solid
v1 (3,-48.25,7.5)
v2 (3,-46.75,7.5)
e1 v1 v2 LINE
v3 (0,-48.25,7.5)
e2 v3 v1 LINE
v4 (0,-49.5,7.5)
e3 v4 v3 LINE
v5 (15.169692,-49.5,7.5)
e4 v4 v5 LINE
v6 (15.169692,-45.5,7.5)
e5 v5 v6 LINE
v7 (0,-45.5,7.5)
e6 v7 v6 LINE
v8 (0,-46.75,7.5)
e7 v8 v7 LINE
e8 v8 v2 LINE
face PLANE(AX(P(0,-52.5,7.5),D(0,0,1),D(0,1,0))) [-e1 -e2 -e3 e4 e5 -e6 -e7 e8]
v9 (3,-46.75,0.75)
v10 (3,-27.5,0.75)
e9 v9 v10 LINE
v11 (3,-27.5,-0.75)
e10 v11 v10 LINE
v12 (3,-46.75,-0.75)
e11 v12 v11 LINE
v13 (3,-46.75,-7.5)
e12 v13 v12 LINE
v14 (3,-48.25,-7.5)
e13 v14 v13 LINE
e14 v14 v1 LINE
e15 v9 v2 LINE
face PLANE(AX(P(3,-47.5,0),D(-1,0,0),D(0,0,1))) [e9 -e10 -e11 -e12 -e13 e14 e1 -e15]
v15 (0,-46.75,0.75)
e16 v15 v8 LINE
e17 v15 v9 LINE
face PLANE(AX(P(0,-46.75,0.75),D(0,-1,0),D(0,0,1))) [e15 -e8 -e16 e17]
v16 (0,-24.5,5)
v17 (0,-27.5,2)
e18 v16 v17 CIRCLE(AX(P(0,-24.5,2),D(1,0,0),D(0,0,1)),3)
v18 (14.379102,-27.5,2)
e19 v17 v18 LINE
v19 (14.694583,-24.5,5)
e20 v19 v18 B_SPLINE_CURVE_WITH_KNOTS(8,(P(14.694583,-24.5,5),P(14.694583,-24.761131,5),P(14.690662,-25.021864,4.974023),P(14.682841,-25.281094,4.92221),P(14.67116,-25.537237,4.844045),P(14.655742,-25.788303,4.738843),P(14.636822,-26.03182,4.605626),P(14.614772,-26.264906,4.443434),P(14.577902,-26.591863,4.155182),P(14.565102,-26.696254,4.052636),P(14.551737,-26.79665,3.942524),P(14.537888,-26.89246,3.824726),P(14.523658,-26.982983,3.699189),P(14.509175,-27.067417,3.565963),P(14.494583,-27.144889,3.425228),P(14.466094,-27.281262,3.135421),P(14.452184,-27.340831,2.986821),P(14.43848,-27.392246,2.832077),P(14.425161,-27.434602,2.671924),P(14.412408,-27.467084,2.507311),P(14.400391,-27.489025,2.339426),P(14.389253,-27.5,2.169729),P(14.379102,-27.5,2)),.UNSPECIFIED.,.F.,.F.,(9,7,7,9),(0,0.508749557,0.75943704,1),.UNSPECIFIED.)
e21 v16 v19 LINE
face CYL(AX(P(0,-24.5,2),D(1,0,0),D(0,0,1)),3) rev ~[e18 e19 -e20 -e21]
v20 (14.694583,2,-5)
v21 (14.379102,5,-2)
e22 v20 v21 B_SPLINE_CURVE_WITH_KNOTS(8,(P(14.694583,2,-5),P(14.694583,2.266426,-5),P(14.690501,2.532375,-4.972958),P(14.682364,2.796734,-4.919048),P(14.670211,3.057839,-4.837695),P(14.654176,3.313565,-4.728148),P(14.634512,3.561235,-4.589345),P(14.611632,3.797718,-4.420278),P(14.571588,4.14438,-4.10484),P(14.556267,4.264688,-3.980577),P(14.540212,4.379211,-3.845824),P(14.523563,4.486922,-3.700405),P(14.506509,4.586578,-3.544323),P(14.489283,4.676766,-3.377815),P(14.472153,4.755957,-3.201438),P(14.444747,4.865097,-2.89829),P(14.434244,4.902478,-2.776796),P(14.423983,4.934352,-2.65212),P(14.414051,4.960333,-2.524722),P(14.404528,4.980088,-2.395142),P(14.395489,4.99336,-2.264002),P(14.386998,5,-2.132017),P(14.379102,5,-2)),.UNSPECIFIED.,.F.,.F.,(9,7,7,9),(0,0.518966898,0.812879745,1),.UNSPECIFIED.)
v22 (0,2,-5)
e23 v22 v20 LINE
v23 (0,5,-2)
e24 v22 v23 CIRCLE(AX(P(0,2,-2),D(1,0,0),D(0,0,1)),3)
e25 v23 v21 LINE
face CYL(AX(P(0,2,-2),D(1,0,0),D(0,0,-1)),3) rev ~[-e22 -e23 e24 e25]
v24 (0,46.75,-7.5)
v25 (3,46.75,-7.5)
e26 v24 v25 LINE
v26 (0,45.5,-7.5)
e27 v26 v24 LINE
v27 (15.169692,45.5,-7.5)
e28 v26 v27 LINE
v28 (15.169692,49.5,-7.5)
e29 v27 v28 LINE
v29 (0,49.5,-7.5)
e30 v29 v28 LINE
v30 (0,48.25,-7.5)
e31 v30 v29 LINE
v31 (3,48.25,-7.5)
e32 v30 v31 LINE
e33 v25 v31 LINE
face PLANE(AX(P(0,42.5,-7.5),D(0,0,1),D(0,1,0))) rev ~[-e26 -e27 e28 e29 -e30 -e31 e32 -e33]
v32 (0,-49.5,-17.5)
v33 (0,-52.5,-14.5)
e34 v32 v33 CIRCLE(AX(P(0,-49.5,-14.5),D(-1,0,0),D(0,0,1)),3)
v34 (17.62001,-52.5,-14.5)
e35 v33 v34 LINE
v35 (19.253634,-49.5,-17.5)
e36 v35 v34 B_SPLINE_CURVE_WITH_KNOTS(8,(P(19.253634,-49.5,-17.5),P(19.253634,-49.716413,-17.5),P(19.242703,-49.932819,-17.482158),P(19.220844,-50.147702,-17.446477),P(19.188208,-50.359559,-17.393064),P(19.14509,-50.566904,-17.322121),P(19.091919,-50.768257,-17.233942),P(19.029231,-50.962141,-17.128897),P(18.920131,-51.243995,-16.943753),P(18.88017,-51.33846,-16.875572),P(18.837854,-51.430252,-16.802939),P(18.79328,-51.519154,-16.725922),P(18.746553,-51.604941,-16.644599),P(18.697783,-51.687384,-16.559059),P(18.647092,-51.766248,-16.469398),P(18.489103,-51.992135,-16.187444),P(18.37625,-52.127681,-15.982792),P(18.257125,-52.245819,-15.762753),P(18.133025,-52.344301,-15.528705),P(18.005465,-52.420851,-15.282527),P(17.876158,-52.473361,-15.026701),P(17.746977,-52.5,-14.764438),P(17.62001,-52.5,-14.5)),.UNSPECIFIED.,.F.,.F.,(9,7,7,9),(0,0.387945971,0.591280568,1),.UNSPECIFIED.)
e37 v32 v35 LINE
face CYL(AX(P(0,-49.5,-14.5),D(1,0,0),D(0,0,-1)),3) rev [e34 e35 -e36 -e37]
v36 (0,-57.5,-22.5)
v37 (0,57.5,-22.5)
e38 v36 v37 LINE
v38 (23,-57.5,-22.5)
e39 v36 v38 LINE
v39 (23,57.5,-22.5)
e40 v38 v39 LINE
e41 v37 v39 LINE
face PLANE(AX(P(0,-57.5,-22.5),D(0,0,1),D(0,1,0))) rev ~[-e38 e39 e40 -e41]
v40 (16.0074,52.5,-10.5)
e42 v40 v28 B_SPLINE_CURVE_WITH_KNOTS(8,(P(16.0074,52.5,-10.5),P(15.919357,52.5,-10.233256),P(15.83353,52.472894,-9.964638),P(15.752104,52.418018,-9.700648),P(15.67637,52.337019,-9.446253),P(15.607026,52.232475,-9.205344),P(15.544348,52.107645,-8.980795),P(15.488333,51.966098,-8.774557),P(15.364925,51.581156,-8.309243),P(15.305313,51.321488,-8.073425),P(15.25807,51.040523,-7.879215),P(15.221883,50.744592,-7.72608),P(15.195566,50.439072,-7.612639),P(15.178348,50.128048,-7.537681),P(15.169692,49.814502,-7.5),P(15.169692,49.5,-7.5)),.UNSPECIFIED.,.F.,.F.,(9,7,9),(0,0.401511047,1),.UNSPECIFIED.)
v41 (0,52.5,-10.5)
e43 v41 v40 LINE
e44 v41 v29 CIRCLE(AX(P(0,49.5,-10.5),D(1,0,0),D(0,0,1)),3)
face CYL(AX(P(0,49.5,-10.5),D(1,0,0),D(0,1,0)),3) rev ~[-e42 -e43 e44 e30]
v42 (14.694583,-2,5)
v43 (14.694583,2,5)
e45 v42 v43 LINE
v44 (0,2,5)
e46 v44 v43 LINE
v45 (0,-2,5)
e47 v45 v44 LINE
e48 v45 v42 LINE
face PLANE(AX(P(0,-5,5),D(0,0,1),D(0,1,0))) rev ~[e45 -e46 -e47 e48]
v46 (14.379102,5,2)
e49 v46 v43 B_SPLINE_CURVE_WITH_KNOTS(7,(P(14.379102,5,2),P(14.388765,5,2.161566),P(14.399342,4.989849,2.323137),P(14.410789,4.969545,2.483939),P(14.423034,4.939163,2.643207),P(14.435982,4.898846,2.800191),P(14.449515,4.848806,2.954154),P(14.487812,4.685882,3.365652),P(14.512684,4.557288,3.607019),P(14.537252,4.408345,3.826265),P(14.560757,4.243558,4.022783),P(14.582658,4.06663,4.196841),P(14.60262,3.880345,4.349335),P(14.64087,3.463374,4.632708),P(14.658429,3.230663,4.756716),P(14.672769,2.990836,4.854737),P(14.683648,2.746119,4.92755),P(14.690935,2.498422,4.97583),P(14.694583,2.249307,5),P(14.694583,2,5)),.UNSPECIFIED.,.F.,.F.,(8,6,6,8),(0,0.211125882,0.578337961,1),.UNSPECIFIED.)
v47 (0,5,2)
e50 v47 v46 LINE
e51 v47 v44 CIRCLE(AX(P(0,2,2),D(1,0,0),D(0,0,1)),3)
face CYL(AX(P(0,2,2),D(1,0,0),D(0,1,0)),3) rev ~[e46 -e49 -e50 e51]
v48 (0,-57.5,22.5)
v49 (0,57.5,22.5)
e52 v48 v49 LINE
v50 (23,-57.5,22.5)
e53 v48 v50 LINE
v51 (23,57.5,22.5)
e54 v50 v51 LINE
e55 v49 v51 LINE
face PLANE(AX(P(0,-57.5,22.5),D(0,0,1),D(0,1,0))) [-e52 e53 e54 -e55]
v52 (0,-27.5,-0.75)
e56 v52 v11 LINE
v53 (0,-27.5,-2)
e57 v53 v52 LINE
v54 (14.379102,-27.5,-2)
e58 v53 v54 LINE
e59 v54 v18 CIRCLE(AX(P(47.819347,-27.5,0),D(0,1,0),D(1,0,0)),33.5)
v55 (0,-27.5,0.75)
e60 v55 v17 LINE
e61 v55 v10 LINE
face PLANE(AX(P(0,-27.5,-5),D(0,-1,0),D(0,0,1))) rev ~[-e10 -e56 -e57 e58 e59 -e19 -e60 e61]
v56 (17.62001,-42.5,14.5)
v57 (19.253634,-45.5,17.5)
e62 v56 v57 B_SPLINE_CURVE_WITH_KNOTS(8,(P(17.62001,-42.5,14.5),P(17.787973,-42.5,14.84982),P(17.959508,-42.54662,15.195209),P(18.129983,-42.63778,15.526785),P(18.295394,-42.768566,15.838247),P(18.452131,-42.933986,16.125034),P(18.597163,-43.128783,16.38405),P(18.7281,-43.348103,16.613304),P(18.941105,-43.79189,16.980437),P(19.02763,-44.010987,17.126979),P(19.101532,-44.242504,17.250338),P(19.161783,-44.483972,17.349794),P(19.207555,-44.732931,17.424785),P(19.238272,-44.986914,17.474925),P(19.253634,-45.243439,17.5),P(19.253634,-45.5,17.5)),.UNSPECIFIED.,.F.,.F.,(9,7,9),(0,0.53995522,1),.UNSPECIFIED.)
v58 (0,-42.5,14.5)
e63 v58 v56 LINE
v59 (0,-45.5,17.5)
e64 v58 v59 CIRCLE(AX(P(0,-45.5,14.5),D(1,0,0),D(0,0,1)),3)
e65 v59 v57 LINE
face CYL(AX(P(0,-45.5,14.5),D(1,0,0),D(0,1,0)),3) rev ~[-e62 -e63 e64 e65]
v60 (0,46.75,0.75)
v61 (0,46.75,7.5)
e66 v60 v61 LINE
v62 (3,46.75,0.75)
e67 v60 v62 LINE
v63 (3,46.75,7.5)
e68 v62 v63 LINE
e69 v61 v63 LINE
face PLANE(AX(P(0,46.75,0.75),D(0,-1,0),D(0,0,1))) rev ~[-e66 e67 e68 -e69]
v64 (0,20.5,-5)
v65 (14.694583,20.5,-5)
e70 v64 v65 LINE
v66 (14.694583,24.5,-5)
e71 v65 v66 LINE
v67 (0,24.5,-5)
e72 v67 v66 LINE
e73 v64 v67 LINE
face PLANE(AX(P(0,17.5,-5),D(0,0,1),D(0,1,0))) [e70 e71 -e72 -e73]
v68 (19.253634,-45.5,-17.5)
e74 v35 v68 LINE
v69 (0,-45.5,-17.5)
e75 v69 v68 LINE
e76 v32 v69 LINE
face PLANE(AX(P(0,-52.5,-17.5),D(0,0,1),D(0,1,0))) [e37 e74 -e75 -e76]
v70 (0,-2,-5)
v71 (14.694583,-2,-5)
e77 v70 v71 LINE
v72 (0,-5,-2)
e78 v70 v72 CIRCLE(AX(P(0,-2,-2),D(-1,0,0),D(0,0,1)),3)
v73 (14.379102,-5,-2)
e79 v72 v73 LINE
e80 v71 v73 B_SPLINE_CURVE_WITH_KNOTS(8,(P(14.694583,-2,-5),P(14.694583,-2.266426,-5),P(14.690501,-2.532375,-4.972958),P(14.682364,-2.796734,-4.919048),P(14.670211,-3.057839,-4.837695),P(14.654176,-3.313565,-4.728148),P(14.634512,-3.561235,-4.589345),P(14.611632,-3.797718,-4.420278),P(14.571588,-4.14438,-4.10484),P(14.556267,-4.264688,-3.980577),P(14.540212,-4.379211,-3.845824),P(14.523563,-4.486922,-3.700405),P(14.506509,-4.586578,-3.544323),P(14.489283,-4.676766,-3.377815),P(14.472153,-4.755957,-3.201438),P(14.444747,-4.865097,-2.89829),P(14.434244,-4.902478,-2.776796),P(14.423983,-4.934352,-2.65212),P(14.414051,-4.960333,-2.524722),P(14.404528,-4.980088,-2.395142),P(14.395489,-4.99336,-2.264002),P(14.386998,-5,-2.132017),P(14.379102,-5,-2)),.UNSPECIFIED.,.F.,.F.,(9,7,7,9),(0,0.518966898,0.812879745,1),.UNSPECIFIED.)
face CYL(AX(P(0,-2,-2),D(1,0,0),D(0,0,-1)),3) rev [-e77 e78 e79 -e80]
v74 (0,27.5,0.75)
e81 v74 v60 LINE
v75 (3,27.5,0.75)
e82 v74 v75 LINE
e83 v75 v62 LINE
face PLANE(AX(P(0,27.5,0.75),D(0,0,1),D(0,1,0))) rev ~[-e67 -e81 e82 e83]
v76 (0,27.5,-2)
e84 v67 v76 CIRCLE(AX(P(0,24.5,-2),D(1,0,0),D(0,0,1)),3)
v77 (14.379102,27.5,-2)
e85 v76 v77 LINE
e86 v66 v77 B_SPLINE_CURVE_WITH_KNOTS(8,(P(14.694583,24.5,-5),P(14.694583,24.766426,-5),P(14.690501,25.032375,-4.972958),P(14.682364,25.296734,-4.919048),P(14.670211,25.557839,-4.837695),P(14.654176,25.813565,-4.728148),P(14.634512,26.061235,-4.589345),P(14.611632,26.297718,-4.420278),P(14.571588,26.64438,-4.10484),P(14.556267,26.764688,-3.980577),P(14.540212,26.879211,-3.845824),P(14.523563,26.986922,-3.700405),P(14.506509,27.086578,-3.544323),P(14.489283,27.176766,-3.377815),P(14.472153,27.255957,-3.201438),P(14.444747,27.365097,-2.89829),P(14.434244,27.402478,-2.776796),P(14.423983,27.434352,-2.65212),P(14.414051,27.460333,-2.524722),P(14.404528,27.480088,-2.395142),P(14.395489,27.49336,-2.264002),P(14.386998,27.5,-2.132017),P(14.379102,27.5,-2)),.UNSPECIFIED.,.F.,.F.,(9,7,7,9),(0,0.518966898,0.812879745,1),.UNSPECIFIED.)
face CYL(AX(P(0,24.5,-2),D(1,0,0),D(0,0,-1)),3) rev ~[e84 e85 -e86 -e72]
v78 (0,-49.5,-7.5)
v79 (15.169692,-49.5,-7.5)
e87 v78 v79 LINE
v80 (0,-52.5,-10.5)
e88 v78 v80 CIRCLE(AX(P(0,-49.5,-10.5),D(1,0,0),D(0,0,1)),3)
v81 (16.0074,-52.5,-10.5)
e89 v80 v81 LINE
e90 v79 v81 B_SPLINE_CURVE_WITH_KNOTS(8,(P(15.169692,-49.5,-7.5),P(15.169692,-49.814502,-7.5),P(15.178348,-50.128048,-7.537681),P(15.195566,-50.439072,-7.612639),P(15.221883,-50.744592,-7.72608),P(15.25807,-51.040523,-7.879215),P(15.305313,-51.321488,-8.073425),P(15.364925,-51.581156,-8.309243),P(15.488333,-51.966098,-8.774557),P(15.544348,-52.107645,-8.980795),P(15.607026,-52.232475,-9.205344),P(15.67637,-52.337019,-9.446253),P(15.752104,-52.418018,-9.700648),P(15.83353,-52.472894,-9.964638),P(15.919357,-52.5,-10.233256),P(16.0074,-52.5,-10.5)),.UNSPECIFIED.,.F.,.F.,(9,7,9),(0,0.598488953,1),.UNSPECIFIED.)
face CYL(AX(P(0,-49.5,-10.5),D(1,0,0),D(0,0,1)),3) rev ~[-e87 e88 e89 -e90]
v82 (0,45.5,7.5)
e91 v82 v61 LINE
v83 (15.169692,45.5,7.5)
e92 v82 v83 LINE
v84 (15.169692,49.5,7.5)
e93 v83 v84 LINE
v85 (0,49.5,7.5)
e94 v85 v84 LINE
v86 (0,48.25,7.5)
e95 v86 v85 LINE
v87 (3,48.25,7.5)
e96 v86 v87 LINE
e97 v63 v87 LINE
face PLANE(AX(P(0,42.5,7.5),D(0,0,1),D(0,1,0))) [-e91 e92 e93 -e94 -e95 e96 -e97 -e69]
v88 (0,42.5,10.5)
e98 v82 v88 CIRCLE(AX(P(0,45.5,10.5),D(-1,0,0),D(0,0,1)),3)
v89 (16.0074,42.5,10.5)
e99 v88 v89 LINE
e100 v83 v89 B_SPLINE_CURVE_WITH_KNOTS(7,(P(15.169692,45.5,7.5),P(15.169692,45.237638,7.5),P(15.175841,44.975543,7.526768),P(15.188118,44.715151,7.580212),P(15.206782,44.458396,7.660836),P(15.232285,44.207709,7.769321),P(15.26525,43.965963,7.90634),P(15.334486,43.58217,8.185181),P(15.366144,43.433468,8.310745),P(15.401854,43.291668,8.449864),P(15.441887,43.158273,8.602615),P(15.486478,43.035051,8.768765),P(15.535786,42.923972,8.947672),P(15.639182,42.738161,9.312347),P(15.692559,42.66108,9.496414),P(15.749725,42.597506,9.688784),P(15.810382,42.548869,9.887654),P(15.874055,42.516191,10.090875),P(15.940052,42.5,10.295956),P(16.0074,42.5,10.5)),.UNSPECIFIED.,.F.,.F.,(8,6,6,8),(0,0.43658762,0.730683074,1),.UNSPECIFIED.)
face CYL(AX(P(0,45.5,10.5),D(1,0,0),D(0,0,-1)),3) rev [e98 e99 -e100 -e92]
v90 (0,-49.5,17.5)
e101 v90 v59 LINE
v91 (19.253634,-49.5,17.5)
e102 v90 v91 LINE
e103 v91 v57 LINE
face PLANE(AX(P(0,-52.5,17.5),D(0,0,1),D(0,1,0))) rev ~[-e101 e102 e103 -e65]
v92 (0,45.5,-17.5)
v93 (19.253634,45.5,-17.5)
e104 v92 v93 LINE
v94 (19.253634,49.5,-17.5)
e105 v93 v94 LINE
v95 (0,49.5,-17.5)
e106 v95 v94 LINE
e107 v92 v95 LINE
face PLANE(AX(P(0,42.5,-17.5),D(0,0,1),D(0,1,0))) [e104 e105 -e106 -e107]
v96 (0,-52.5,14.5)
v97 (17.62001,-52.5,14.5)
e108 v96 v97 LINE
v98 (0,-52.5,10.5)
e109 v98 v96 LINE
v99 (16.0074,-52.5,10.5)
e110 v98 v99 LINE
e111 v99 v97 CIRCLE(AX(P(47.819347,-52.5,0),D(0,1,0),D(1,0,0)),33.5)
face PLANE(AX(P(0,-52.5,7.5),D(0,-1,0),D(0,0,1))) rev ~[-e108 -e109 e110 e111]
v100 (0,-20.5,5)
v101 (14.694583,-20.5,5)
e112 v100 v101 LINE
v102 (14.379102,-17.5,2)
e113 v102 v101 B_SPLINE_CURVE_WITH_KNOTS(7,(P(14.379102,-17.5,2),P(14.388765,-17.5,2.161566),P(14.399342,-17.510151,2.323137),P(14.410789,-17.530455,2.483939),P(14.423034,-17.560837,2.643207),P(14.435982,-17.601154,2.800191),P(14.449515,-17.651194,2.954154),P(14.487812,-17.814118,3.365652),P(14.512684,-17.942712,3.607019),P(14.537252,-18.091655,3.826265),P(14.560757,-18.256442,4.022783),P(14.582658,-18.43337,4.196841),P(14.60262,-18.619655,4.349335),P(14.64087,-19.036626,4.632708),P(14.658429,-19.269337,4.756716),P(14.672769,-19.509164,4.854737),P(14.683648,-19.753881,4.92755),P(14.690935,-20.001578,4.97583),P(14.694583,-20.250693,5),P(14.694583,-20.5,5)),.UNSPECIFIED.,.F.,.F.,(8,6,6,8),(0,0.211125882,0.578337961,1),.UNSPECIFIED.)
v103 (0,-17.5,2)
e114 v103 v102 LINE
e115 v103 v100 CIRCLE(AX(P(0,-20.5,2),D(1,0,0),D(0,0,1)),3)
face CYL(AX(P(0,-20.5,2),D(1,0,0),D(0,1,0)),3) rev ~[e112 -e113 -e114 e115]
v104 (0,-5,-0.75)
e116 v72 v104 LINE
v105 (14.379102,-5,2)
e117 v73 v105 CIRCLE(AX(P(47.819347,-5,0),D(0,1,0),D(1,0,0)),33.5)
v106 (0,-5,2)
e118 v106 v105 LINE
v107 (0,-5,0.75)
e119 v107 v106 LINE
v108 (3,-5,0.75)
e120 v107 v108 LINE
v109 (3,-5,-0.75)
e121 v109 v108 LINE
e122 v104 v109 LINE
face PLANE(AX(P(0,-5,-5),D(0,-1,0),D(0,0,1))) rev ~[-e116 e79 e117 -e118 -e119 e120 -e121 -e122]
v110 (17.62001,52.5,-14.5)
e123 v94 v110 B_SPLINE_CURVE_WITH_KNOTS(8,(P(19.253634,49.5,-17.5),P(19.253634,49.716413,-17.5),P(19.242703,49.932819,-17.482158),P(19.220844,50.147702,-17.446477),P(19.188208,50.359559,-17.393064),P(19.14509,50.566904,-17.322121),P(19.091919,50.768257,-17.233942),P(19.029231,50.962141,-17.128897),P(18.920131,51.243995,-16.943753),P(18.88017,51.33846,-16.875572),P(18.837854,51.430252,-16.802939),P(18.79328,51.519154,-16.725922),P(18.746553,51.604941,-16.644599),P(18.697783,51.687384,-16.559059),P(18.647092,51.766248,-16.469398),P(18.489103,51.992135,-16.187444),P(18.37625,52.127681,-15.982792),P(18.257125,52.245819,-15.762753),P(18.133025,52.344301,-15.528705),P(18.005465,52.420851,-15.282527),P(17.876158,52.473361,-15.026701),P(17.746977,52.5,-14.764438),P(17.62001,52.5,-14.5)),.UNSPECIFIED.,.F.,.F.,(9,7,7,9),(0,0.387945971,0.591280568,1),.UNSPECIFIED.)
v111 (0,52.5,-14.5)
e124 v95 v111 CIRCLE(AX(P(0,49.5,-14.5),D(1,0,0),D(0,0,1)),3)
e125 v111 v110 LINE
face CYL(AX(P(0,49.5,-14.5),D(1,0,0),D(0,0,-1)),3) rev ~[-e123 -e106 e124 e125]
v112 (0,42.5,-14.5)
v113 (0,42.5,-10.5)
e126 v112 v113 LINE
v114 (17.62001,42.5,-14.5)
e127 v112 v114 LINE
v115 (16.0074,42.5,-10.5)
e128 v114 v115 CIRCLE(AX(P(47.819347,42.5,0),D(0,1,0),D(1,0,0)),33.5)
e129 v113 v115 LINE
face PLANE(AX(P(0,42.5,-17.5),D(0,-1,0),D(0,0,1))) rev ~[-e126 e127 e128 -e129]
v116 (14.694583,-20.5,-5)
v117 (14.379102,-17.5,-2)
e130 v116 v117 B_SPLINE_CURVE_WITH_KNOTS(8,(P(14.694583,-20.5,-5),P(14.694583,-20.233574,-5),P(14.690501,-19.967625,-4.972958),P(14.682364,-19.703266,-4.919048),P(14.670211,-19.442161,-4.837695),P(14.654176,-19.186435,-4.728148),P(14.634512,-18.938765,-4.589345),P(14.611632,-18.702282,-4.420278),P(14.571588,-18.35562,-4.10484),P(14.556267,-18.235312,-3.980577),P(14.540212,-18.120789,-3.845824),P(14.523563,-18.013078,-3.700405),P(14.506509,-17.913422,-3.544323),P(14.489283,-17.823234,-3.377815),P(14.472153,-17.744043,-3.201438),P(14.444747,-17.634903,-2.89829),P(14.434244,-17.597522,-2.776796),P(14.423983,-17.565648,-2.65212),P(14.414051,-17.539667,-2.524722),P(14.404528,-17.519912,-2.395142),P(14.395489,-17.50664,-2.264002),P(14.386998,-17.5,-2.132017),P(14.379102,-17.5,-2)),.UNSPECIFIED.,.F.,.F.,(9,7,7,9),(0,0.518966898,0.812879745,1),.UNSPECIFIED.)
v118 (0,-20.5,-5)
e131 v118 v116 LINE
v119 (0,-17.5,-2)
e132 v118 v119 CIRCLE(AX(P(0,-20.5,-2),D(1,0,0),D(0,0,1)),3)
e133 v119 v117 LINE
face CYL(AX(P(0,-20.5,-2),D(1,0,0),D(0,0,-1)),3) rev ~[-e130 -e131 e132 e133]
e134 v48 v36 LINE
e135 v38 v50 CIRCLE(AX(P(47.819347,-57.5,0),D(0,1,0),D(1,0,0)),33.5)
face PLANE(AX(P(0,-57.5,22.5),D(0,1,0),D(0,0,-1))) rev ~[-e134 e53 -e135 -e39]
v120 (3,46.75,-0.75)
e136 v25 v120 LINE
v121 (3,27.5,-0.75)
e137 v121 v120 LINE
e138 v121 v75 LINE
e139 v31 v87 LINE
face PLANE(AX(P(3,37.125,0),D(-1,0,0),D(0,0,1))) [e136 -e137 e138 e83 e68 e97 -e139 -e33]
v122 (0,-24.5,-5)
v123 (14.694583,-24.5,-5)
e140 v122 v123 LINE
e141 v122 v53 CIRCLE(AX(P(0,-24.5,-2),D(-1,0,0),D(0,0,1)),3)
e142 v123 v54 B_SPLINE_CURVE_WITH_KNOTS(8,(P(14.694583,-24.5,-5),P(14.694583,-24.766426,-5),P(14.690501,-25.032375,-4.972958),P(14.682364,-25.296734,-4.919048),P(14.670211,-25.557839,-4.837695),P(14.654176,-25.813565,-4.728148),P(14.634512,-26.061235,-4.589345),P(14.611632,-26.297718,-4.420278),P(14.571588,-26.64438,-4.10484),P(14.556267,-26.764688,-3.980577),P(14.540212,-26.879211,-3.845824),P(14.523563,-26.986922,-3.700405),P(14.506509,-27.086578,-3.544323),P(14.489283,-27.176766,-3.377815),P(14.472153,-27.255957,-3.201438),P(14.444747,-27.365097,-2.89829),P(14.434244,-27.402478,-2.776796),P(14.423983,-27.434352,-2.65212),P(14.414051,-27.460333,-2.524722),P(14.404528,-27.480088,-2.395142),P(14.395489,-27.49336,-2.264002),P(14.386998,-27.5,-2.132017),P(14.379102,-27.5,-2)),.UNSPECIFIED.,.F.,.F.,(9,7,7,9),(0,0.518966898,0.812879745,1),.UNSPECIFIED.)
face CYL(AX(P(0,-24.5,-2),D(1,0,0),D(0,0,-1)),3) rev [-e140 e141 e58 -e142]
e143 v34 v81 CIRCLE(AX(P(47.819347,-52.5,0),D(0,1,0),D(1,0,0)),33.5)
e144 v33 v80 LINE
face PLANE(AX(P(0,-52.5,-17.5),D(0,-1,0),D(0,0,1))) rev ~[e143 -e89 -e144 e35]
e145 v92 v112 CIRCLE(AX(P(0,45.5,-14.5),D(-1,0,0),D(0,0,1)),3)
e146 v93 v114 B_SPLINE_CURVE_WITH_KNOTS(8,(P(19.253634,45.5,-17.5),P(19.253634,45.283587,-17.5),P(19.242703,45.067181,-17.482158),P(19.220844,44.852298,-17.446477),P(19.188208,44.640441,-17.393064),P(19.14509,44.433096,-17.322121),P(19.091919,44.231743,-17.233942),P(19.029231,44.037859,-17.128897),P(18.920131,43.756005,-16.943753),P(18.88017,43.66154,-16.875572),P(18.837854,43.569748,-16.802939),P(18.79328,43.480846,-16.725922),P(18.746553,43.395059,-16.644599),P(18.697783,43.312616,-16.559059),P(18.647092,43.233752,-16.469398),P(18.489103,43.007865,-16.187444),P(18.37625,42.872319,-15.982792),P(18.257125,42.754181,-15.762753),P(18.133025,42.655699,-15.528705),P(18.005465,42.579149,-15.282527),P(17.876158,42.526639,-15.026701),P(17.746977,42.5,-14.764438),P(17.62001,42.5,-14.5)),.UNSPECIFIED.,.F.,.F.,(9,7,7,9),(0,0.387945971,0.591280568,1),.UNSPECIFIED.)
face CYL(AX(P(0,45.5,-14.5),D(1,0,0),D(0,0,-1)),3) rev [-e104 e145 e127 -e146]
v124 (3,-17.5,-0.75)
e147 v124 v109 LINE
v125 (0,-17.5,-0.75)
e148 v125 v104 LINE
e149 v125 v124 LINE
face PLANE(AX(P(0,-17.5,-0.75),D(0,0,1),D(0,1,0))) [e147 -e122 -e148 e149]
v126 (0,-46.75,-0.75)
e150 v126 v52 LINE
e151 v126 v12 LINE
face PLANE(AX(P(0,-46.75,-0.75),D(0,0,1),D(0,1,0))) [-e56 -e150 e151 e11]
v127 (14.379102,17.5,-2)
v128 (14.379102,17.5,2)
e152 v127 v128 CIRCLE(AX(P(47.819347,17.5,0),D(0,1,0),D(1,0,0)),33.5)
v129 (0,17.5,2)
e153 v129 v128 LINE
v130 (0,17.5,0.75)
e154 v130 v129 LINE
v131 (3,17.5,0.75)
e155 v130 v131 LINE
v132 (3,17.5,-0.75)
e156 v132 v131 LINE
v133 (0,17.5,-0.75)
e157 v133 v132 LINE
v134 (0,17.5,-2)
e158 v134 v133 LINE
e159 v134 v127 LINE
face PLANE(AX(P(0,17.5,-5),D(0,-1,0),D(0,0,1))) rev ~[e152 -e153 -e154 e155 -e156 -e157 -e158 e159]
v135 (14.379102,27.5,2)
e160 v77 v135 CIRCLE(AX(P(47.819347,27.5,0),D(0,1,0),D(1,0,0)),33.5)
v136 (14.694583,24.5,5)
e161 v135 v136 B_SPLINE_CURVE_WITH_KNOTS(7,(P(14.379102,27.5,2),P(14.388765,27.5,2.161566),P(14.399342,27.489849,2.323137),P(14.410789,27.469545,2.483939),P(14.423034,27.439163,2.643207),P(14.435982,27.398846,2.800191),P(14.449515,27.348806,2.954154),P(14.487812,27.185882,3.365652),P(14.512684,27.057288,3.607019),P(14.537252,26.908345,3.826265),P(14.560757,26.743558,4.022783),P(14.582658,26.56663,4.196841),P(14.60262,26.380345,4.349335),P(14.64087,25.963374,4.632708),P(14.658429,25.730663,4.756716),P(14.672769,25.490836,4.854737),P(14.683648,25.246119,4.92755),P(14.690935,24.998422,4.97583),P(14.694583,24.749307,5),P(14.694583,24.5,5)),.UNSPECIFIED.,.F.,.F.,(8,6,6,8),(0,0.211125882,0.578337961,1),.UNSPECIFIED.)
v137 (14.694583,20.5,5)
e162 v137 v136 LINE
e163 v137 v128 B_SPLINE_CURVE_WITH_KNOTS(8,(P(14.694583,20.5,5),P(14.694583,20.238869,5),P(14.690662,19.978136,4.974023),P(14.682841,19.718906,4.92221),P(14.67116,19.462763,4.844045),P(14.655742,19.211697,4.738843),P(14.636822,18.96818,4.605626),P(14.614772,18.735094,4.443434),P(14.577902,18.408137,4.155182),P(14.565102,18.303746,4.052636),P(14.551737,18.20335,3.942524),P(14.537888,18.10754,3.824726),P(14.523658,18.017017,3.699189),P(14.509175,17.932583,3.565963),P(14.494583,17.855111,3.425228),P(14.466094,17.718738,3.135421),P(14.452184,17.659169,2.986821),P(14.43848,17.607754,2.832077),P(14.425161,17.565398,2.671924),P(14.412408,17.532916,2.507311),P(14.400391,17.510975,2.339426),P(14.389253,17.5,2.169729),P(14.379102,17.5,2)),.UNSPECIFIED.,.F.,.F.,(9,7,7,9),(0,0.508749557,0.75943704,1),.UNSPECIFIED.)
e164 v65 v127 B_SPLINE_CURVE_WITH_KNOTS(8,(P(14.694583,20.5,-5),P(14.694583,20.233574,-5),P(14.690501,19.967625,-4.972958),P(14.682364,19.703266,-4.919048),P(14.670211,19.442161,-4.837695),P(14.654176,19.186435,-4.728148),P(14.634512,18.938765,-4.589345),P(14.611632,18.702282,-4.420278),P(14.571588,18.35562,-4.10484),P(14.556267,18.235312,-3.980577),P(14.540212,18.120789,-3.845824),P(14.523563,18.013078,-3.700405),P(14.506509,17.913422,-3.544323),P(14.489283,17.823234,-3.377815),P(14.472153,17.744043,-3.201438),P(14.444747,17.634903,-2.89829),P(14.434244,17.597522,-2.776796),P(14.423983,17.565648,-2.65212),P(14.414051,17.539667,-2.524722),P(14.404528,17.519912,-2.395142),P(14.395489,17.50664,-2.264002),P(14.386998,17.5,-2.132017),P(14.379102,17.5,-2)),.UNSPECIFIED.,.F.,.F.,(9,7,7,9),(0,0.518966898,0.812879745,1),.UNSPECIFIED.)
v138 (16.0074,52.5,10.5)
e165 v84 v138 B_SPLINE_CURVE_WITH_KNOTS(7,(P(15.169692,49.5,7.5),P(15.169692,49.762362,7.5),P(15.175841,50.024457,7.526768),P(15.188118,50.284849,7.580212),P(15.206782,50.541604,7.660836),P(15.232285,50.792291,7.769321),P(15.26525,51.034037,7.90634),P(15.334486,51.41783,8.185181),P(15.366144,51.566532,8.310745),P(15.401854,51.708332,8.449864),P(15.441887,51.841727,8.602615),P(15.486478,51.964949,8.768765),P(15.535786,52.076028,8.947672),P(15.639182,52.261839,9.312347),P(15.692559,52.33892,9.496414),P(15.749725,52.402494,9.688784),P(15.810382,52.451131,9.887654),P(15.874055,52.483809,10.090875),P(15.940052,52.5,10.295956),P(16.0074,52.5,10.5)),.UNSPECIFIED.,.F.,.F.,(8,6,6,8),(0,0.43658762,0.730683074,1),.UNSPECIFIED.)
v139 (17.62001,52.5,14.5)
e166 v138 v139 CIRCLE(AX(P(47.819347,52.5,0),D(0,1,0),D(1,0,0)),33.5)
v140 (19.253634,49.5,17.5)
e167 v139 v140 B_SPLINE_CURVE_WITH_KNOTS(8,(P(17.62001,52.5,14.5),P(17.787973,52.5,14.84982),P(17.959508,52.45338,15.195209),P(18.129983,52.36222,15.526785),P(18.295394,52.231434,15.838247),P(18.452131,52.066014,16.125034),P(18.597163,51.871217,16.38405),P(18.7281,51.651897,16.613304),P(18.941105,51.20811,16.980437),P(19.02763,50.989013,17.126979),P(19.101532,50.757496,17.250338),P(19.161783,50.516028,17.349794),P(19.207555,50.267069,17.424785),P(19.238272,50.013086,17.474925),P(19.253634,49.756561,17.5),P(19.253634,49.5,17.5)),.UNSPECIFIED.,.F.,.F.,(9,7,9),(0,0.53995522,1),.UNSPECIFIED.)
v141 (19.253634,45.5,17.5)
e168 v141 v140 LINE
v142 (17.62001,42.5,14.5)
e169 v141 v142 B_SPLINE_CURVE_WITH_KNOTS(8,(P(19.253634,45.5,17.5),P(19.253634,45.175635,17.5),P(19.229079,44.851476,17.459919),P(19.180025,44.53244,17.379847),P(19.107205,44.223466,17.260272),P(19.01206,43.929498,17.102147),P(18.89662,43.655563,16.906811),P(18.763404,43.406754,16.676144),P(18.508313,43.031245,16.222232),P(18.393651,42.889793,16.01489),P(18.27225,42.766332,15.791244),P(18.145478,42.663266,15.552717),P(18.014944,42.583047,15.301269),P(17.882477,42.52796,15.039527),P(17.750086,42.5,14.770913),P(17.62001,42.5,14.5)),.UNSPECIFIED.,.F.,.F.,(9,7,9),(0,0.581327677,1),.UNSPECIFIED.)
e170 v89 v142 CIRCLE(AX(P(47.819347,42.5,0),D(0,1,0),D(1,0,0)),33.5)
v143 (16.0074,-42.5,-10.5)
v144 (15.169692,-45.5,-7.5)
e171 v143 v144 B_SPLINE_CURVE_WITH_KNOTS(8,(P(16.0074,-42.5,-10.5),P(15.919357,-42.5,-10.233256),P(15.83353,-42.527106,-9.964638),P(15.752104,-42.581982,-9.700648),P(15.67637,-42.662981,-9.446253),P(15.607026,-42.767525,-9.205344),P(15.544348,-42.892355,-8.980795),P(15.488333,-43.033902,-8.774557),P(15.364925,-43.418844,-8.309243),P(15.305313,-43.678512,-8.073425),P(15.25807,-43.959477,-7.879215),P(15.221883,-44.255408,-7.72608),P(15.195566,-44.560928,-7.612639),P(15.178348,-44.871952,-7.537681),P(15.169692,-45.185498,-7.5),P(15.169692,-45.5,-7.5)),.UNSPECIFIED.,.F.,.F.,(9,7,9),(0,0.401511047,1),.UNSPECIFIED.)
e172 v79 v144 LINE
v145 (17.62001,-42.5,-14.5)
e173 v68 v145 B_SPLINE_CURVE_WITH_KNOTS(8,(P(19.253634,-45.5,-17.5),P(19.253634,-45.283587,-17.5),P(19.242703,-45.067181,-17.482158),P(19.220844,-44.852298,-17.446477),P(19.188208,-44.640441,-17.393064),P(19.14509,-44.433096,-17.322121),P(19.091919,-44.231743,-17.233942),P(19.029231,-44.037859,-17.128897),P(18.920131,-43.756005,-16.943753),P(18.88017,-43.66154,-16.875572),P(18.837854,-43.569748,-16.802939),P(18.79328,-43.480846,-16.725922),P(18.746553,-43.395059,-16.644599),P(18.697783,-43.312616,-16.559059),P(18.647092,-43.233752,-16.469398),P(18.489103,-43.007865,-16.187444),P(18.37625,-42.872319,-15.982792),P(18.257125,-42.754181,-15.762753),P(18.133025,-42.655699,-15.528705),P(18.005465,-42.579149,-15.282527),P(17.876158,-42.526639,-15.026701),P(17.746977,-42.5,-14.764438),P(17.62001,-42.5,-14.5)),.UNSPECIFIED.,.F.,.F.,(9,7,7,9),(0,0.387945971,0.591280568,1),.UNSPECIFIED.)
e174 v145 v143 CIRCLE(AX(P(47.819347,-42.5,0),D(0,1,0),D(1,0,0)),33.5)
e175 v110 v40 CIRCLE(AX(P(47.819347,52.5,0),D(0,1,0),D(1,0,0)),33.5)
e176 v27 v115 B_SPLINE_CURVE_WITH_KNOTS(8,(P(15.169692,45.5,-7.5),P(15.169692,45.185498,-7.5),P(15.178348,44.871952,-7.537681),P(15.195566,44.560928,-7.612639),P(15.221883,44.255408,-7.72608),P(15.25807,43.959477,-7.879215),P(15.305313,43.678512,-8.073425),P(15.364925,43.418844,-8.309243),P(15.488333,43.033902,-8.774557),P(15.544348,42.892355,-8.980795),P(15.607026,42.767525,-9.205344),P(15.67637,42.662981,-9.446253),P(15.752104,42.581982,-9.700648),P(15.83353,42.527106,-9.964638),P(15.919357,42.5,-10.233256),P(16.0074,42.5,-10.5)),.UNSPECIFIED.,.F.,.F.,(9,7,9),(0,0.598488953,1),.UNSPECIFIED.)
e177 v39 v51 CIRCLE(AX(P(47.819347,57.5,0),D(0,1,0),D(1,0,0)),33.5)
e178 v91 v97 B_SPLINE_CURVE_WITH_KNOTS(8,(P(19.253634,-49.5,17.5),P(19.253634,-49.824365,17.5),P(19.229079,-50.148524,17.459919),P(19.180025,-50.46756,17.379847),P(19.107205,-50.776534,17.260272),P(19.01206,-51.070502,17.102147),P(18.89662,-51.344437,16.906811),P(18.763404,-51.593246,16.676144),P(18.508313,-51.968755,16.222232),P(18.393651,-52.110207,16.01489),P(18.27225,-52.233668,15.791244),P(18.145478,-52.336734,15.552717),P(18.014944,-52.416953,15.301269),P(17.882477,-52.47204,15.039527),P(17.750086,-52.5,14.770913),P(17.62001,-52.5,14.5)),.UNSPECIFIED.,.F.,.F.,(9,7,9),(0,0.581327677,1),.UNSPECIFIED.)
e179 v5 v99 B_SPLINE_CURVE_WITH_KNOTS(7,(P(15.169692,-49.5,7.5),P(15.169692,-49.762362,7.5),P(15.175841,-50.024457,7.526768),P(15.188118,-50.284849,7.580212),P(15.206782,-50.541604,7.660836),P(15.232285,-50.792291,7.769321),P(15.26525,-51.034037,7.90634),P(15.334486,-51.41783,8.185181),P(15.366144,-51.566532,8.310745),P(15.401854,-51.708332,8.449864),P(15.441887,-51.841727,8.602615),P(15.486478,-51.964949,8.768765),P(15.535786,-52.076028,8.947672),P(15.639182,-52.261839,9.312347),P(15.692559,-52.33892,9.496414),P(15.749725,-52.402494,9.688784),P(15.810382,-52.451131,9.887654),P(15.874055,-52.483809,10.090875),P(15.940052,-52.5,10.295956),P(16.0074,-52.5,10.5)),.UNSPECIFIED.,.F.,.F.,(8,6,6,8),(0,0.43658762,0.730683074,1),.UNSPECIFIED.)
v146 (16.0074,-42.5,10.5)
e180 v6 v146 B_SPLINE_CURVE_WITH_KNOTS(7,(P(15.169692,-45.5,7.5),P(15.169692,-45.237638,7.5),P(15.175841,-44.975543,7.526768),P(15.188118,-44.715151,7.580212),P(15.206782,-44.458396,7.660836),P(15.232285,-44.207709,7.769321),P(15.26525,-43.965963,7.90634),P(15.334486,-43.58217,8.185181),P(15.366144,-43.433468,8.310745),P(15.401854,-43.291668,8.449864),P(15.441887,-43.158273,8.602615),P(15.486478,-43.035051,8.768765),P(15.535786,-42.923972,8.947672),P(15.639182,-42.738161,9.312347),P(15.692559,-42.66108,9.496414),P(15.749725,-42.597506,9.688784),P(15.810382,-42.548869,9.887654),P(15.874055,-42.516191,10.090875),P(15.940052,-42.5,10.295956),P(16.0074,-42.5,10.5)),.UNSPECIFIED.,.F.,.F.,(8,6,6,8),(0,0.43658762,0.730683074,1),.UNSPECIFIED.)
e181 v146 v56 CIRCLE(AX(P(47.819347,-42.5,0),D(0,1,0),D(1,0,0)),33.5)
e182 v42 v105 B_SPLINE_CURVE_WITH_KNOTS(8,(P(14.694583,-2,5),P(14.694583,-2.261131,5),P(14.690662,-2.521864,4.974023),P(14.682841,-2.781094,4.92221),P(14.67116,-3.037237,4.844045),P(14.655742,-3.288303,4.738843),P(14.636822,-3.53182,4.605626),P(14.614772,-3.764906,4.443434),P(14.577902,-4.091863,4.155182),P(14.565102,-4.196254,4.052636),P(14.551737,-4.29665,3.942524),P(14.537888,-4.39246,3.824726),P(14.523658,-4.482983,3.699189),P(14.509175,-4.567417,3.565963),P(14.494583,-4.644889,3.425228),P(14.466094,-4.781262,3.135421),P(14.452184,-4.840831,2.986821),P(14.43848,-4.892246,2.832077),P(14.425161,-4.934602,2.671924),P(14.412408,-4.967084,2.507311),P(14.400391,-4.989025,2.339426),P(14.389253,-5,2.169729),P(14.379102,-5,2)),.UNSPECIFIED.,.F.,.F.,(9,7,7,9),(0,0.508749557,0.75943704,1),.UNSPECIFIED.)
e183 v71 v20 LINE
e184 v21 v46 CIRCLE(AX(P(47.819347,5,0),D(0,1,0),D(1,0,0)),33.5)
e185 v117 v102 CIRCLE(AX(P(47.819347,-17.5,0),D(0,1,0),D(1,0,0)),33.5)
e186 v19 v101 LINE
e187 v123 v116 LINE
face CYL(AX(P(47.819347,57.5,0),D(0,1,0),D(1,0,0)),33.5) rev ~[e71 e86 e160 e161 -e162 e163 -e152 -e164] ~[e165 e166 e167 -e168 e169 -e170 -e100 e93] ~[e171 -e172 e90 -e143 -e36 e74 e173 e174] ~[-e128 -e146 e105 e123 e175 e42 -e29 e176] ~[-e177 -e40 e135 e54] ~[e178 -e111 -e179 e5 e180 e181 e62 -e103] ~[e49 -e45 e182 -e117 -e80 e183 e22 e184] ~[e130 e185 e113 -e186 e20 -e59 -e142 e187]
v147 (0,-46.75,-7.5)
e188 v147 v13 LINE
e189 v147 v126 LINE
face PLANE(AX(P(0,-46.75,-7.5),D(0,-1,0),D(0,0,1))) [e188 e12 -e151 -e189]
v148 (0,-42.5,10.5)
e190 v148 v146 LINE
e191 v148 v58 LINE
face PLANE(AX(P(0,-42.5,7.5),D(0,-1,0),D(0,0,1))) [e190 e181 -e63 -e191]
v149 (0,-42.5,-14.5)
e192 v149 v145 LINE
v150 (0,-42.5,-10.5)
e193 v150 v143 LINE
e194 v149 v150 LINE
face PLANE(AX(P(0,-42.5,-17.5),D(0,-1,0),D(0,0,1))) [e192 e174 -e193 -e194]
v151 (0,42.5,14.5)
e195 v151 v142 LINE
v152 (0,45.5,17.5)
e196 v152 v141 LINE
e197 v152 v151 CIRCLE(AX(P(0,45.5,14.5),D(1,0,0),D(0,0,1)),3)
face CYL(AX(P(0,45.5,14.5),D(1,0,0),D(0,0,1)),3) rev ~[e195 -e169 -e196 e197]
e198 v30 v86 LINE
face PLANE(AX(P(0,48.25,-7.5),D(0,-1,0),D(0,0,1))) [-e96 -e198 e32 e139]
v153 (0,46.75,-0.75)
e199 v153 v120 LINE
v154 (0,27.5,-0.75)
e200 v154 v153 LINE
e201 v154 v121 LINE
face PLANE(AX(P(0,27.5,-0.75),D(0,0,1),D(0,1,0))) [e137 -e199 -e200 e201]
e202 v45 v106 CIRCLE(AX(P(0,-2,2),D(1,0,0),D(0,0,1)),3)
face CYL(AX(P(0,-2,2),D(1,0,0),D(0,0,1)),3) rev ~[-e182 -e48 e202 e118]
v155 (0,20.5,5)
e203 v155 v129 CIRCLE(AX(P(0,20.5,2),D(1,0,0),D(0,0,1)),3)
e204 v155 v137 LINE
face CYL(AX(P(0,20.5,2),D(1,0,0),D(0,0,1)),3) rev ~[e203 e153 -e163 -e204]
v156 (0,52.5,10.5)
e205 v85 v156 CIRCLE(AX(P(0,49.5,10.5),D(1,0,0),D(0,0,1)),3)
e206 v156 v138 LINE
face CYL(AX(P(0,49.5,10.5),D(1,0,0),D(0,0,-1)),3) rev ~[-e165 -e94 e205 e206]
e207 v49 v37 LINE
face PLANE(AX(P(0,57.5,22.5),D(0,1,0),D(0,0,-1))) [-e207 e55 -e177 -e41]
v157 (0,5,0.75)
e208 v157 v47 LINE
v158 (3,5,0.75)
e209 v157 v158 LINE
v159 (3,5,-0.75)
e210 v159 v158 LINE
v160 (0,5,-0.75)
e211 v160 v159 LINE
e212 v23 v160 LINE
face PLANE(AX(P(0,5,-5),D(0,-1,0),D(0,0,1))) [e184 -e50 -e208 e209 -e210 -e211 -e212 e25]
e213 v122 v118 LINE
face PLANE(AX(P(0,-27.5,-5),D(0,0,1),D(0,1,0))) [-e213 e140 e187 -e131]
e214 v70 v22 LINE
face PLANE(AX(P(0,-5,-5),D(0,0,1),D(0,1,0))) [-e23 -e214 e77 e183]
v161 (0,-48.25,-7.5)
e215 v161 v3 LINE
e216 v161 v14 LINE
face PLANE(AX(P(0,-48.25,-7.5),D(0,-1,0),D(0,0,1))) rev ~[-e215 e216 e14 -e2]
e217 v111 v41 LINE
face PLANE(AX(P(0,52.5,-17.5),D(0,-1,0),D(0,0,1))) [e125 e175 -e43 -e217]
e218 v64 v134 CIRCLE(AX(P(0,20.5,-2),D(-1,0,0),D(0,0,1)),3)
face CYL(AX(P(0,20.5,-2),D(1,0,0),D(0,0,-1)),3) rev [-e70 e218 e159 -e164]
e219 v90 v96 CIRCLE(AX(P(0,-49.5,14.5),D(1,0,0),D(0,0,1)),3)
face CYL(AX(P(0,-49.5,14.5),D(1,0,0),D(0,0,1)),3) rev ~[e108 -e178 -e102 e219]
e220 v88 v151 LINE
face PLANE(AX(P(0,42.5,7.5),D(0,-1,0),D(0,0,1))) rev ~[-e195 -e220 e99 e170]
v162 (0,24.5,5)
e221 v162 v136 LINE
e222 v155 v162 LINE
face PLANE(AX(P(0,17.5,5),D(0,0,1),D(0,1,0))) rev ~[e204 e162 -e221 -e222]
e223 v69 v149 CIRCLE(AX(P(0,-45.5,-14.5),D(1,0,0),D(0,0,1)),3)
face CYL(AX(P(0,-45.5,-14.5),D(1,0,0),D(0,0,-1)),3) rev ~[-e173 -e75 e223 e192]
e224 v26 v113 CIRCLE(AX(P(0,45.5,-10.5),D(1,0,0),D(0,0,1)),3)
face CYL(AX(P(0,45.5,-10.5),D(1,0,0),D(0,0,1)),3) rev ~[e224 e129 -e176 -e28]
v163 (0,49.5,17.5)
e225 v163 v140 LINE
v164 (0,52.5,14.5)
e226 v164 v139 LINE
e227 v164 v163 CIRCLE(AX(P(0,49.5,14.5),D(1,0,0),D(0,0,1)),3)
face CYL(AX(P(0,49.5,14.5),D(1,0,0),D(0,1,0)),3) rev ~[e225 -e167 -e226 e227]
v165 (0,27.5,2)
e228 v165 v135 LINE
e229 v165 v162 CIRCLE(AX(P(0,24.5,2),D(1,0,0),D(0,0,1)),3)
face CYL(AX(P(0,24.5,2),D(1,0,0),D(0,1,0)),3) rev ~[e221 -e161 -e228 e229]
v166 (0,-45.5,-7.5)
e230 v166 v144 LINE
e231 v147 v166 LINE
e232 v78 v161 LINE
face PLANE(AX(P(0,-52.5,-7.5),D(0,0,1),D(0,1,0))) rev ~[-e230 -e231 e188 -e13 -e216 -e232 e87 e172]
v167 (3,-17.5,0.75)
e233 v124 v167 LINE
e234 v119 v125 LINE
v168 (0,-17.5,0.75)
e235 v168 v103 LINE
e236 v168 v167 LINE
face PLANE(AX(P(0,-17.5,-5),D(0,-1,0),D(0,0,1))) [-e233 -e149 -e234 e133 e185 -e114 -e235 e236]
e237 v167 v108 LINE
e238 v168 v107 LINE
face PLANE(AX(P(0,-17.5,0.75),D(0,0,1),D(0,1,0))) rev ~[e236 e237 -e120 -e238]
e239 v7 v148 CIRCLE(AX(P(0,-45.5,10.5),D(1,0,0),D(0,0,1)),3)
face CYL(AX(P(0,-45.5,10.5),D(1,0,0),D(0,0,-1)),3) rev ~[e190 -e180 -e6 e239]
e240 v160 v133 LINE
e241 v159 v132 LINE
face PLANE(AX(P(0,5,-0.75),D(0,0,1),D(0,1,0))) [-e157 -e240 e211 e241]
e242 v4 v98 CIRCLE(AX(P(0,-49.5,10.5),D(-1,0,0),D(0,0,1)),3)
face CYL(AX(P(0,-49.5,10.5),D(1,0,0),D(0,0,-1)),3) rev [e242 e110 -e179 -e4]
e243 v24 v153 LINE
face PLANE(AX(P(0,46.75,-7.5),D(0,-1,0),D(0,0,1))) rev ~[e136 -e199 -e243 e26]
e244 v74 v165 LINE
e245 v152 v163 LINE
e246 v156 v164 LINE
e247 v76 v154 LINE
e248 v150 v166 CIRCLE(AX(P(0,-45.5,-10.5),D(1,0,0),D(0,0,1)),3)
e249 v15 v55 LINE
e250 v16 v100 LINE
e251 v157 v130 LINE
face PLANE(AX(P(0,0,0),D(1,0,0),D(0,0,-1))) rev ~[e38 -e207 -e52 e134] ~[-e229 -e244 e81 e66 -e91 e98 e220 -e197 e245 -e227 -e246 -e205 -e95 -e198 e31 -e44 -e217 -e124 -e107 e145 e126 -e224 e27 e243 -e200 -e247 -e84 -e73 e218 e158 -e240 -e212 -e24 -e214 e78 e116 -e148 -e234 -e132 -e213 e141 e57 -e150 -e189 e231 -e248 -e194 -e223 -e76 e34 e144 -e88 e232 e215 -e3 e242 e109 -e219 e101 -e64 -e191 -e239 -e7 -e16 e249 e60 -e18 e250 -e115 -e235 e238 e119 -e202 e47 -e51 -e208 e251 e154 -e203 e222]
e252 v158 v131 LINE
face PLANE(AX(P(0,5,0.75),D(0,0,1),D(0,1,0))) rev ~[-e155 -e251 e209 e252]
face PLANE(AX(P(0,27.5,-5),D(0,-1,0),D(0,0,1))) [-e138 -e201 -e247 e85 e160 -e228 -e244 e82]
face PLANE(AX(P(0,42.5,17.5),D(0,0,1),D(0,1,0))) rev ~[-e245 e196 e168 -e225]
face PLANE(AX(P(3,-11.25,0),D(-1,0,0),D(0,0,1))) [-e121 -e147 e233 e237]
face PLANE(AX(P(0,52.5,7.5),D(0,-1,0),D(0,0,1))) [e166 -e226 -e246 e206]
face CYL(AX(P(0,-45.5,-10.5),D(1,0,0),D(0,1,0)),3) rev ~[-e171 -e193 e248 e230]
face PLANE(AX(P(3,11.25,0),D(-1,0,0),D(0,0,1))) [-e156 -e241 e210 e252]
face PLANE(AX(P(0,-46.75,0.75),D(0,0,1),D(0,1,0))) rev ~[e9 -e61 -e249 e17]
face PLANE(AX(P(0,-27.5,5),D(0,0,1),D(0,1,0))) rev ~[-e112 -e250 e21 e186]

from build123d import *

# Parameters (mm, degrees)
SKETCH1_W           = 45
SKETCH1_H           = 115
BOSS_EXTRUDE1_DEPTH = 23
SKETCH2_R           = 33.5
CUT_EXTRUDE1_DEPTH  = 121
SKETCH3_W           = 10
SKETCH3_H           = 10
CUT_EXTRUDE3_DEPTH  = 31
FILLET2_R           = 3
FILLET3_R           = 3
SKETCH5_W           = 15
SKETCH5_H           = 1.5
SKETCH5_W_2         = 1.5
SKETCH5_H_2         = 12.5
SKETCH5_H_3         = 19.25
CUT_EXTRUDE4_DEPTH  = 3


with BuildPart() as part:
    # Sketch1 → Boss-Extrude1 (new body)
    with BuildSketch(Plane(origin=(0, 0, 0), x_dir=(0, 0, -1), z_dir=(1, 0, 0))):
        Rectangle(SKETCH1_W, SKETCH1_H)
    extrude(amount=BOSS_EXTRUDE1_DEPTH)

    # Sketch2 → Cut-Extrude1 (cut)
    with BuildSketch(Plane(origin=(0, 57.5, 0), x_dir=(1, 0, 0), z_dir=(0, 1, 0))):
        with Locations((47.819347292, 0)):
            Circle(SKETCH2_R)
    extrude(amount=-CUT_EXTRUDE1_DEPTH, mode=Mode.SUBTRACT)

    # Sketch3 → Cut-Extrude3 (cut)
    with BuildSketch(Plane.ZY):
        with Locations((12.5, -47.5)):
            Rectangle(SKETCH3_W, SKETCH3_H)
        with Locations((-12.5, -47.5)):
            Rectangle(SKETCH3_W, SKETCH3_H)
        with Locations((0, -22.5)):
            Rectangle(SKETCH3_W, SKETCH3_H)
        Rectangle(SKETCH3_W, SKETCH3_H)
        with Locations((0, 22.5)):
            Rectangle(SKETCH3_W, SKETCH3_H)
        with Locations((12.5, 47.5)):
            Rectangle(SKETCH3_W, SKETCH3_H)
        with Locations((-12.5, 47.5)):
            Rectangle(SKETCH3_W, SKETCH3_H)
    extrude(amount=-CUT_EXTRUDE3_DEPTH, mode=Mode.SUBTRACT)

    # Fillet2
    fillet2_edges = [part.edges().sort_by_distance(p)[0] for p in [
        (9.626816789, -42.5, 17.5),
        (9.626816789, -52.5, 17.5),
        (7.584845929, -42.5, 7.5),
        (7.584845929, 52.5, -7.5),
        (7.584845929, 42.5, -7.5),
        (9.626816789, 42.5, -17.5),
        (9.626816789, 52.5, -17.5),
        (9.626816789, 52.5, 17.5),
        (9.626816789, 42.5, 17.5),
        (7.584845929, 42.5, 7.5),
        (7.584845929, 52.5, 7.5),
        (7.347291571, 27.5, 5),
        (7.347291571, 17.5, 5),
        (7.347291571, 17.5, -5),
        (7.347291571, 27.5, -5),
        (7.347291571, 5, 5),
        (7.347291571, -5, 5),
        (7.347291571, -5, -5),
        (7.347291571, 5, -5),
        (7.347291571, -17.5, 5),
        (7.347291571, -27.5, 5),
        (7.347291571, -27.5, -5),
        (7.347291571, -17.5, -5),
        (7.584845929, -42.5, -7.5),
        (7.584845929, -52.5, -7.5),
        (9.626816789, -52.5, -17.5),
        (9.626816789, -42.5, -17.5),
    ]]
    fillet(fillet2_edges, radius=FILLET2_R)

    # Fillet3
    fillet3_edges = [part.edges().sort_by_distance(p)[0] for p in [
        (7.584845929, -52.5, 7.5),
    ]]
    fillet(fillet3_edges, radius=FILLET3_R)

    # Sketch5 → Cut-Extrude4 (cut)
    with BuildSketch(Plane.ZY):
        with Locations((0, -47.5)):
            Rectangle(SKETCH5_W, SKETCH5_H)
        with Locations((0, -11.25)):
            Rectangle(SKETCH5_W_2, SKETCH5_H_2)
        with Locations((0, -37.125)):
            Rectangle(SKETCH5_W_2, SKETCH5_H_3)
        with Locations((0, 11.25)):
            Rectangle(SKETCH5_W_2, SKETCH5_H_2)
        with Locations((0, 37.125)):
            Rectangle(SKETCH5_W_2, SKETCH5_H_3)
        with Locations((0, 47.5)):
            Rectangle(SKETCH5_W, SKETCH5_H)
    extrude(amount=-CUT_EXTRUDE4_DEPTH, mode=Mode.SUBTRACT)


solid = part.part
